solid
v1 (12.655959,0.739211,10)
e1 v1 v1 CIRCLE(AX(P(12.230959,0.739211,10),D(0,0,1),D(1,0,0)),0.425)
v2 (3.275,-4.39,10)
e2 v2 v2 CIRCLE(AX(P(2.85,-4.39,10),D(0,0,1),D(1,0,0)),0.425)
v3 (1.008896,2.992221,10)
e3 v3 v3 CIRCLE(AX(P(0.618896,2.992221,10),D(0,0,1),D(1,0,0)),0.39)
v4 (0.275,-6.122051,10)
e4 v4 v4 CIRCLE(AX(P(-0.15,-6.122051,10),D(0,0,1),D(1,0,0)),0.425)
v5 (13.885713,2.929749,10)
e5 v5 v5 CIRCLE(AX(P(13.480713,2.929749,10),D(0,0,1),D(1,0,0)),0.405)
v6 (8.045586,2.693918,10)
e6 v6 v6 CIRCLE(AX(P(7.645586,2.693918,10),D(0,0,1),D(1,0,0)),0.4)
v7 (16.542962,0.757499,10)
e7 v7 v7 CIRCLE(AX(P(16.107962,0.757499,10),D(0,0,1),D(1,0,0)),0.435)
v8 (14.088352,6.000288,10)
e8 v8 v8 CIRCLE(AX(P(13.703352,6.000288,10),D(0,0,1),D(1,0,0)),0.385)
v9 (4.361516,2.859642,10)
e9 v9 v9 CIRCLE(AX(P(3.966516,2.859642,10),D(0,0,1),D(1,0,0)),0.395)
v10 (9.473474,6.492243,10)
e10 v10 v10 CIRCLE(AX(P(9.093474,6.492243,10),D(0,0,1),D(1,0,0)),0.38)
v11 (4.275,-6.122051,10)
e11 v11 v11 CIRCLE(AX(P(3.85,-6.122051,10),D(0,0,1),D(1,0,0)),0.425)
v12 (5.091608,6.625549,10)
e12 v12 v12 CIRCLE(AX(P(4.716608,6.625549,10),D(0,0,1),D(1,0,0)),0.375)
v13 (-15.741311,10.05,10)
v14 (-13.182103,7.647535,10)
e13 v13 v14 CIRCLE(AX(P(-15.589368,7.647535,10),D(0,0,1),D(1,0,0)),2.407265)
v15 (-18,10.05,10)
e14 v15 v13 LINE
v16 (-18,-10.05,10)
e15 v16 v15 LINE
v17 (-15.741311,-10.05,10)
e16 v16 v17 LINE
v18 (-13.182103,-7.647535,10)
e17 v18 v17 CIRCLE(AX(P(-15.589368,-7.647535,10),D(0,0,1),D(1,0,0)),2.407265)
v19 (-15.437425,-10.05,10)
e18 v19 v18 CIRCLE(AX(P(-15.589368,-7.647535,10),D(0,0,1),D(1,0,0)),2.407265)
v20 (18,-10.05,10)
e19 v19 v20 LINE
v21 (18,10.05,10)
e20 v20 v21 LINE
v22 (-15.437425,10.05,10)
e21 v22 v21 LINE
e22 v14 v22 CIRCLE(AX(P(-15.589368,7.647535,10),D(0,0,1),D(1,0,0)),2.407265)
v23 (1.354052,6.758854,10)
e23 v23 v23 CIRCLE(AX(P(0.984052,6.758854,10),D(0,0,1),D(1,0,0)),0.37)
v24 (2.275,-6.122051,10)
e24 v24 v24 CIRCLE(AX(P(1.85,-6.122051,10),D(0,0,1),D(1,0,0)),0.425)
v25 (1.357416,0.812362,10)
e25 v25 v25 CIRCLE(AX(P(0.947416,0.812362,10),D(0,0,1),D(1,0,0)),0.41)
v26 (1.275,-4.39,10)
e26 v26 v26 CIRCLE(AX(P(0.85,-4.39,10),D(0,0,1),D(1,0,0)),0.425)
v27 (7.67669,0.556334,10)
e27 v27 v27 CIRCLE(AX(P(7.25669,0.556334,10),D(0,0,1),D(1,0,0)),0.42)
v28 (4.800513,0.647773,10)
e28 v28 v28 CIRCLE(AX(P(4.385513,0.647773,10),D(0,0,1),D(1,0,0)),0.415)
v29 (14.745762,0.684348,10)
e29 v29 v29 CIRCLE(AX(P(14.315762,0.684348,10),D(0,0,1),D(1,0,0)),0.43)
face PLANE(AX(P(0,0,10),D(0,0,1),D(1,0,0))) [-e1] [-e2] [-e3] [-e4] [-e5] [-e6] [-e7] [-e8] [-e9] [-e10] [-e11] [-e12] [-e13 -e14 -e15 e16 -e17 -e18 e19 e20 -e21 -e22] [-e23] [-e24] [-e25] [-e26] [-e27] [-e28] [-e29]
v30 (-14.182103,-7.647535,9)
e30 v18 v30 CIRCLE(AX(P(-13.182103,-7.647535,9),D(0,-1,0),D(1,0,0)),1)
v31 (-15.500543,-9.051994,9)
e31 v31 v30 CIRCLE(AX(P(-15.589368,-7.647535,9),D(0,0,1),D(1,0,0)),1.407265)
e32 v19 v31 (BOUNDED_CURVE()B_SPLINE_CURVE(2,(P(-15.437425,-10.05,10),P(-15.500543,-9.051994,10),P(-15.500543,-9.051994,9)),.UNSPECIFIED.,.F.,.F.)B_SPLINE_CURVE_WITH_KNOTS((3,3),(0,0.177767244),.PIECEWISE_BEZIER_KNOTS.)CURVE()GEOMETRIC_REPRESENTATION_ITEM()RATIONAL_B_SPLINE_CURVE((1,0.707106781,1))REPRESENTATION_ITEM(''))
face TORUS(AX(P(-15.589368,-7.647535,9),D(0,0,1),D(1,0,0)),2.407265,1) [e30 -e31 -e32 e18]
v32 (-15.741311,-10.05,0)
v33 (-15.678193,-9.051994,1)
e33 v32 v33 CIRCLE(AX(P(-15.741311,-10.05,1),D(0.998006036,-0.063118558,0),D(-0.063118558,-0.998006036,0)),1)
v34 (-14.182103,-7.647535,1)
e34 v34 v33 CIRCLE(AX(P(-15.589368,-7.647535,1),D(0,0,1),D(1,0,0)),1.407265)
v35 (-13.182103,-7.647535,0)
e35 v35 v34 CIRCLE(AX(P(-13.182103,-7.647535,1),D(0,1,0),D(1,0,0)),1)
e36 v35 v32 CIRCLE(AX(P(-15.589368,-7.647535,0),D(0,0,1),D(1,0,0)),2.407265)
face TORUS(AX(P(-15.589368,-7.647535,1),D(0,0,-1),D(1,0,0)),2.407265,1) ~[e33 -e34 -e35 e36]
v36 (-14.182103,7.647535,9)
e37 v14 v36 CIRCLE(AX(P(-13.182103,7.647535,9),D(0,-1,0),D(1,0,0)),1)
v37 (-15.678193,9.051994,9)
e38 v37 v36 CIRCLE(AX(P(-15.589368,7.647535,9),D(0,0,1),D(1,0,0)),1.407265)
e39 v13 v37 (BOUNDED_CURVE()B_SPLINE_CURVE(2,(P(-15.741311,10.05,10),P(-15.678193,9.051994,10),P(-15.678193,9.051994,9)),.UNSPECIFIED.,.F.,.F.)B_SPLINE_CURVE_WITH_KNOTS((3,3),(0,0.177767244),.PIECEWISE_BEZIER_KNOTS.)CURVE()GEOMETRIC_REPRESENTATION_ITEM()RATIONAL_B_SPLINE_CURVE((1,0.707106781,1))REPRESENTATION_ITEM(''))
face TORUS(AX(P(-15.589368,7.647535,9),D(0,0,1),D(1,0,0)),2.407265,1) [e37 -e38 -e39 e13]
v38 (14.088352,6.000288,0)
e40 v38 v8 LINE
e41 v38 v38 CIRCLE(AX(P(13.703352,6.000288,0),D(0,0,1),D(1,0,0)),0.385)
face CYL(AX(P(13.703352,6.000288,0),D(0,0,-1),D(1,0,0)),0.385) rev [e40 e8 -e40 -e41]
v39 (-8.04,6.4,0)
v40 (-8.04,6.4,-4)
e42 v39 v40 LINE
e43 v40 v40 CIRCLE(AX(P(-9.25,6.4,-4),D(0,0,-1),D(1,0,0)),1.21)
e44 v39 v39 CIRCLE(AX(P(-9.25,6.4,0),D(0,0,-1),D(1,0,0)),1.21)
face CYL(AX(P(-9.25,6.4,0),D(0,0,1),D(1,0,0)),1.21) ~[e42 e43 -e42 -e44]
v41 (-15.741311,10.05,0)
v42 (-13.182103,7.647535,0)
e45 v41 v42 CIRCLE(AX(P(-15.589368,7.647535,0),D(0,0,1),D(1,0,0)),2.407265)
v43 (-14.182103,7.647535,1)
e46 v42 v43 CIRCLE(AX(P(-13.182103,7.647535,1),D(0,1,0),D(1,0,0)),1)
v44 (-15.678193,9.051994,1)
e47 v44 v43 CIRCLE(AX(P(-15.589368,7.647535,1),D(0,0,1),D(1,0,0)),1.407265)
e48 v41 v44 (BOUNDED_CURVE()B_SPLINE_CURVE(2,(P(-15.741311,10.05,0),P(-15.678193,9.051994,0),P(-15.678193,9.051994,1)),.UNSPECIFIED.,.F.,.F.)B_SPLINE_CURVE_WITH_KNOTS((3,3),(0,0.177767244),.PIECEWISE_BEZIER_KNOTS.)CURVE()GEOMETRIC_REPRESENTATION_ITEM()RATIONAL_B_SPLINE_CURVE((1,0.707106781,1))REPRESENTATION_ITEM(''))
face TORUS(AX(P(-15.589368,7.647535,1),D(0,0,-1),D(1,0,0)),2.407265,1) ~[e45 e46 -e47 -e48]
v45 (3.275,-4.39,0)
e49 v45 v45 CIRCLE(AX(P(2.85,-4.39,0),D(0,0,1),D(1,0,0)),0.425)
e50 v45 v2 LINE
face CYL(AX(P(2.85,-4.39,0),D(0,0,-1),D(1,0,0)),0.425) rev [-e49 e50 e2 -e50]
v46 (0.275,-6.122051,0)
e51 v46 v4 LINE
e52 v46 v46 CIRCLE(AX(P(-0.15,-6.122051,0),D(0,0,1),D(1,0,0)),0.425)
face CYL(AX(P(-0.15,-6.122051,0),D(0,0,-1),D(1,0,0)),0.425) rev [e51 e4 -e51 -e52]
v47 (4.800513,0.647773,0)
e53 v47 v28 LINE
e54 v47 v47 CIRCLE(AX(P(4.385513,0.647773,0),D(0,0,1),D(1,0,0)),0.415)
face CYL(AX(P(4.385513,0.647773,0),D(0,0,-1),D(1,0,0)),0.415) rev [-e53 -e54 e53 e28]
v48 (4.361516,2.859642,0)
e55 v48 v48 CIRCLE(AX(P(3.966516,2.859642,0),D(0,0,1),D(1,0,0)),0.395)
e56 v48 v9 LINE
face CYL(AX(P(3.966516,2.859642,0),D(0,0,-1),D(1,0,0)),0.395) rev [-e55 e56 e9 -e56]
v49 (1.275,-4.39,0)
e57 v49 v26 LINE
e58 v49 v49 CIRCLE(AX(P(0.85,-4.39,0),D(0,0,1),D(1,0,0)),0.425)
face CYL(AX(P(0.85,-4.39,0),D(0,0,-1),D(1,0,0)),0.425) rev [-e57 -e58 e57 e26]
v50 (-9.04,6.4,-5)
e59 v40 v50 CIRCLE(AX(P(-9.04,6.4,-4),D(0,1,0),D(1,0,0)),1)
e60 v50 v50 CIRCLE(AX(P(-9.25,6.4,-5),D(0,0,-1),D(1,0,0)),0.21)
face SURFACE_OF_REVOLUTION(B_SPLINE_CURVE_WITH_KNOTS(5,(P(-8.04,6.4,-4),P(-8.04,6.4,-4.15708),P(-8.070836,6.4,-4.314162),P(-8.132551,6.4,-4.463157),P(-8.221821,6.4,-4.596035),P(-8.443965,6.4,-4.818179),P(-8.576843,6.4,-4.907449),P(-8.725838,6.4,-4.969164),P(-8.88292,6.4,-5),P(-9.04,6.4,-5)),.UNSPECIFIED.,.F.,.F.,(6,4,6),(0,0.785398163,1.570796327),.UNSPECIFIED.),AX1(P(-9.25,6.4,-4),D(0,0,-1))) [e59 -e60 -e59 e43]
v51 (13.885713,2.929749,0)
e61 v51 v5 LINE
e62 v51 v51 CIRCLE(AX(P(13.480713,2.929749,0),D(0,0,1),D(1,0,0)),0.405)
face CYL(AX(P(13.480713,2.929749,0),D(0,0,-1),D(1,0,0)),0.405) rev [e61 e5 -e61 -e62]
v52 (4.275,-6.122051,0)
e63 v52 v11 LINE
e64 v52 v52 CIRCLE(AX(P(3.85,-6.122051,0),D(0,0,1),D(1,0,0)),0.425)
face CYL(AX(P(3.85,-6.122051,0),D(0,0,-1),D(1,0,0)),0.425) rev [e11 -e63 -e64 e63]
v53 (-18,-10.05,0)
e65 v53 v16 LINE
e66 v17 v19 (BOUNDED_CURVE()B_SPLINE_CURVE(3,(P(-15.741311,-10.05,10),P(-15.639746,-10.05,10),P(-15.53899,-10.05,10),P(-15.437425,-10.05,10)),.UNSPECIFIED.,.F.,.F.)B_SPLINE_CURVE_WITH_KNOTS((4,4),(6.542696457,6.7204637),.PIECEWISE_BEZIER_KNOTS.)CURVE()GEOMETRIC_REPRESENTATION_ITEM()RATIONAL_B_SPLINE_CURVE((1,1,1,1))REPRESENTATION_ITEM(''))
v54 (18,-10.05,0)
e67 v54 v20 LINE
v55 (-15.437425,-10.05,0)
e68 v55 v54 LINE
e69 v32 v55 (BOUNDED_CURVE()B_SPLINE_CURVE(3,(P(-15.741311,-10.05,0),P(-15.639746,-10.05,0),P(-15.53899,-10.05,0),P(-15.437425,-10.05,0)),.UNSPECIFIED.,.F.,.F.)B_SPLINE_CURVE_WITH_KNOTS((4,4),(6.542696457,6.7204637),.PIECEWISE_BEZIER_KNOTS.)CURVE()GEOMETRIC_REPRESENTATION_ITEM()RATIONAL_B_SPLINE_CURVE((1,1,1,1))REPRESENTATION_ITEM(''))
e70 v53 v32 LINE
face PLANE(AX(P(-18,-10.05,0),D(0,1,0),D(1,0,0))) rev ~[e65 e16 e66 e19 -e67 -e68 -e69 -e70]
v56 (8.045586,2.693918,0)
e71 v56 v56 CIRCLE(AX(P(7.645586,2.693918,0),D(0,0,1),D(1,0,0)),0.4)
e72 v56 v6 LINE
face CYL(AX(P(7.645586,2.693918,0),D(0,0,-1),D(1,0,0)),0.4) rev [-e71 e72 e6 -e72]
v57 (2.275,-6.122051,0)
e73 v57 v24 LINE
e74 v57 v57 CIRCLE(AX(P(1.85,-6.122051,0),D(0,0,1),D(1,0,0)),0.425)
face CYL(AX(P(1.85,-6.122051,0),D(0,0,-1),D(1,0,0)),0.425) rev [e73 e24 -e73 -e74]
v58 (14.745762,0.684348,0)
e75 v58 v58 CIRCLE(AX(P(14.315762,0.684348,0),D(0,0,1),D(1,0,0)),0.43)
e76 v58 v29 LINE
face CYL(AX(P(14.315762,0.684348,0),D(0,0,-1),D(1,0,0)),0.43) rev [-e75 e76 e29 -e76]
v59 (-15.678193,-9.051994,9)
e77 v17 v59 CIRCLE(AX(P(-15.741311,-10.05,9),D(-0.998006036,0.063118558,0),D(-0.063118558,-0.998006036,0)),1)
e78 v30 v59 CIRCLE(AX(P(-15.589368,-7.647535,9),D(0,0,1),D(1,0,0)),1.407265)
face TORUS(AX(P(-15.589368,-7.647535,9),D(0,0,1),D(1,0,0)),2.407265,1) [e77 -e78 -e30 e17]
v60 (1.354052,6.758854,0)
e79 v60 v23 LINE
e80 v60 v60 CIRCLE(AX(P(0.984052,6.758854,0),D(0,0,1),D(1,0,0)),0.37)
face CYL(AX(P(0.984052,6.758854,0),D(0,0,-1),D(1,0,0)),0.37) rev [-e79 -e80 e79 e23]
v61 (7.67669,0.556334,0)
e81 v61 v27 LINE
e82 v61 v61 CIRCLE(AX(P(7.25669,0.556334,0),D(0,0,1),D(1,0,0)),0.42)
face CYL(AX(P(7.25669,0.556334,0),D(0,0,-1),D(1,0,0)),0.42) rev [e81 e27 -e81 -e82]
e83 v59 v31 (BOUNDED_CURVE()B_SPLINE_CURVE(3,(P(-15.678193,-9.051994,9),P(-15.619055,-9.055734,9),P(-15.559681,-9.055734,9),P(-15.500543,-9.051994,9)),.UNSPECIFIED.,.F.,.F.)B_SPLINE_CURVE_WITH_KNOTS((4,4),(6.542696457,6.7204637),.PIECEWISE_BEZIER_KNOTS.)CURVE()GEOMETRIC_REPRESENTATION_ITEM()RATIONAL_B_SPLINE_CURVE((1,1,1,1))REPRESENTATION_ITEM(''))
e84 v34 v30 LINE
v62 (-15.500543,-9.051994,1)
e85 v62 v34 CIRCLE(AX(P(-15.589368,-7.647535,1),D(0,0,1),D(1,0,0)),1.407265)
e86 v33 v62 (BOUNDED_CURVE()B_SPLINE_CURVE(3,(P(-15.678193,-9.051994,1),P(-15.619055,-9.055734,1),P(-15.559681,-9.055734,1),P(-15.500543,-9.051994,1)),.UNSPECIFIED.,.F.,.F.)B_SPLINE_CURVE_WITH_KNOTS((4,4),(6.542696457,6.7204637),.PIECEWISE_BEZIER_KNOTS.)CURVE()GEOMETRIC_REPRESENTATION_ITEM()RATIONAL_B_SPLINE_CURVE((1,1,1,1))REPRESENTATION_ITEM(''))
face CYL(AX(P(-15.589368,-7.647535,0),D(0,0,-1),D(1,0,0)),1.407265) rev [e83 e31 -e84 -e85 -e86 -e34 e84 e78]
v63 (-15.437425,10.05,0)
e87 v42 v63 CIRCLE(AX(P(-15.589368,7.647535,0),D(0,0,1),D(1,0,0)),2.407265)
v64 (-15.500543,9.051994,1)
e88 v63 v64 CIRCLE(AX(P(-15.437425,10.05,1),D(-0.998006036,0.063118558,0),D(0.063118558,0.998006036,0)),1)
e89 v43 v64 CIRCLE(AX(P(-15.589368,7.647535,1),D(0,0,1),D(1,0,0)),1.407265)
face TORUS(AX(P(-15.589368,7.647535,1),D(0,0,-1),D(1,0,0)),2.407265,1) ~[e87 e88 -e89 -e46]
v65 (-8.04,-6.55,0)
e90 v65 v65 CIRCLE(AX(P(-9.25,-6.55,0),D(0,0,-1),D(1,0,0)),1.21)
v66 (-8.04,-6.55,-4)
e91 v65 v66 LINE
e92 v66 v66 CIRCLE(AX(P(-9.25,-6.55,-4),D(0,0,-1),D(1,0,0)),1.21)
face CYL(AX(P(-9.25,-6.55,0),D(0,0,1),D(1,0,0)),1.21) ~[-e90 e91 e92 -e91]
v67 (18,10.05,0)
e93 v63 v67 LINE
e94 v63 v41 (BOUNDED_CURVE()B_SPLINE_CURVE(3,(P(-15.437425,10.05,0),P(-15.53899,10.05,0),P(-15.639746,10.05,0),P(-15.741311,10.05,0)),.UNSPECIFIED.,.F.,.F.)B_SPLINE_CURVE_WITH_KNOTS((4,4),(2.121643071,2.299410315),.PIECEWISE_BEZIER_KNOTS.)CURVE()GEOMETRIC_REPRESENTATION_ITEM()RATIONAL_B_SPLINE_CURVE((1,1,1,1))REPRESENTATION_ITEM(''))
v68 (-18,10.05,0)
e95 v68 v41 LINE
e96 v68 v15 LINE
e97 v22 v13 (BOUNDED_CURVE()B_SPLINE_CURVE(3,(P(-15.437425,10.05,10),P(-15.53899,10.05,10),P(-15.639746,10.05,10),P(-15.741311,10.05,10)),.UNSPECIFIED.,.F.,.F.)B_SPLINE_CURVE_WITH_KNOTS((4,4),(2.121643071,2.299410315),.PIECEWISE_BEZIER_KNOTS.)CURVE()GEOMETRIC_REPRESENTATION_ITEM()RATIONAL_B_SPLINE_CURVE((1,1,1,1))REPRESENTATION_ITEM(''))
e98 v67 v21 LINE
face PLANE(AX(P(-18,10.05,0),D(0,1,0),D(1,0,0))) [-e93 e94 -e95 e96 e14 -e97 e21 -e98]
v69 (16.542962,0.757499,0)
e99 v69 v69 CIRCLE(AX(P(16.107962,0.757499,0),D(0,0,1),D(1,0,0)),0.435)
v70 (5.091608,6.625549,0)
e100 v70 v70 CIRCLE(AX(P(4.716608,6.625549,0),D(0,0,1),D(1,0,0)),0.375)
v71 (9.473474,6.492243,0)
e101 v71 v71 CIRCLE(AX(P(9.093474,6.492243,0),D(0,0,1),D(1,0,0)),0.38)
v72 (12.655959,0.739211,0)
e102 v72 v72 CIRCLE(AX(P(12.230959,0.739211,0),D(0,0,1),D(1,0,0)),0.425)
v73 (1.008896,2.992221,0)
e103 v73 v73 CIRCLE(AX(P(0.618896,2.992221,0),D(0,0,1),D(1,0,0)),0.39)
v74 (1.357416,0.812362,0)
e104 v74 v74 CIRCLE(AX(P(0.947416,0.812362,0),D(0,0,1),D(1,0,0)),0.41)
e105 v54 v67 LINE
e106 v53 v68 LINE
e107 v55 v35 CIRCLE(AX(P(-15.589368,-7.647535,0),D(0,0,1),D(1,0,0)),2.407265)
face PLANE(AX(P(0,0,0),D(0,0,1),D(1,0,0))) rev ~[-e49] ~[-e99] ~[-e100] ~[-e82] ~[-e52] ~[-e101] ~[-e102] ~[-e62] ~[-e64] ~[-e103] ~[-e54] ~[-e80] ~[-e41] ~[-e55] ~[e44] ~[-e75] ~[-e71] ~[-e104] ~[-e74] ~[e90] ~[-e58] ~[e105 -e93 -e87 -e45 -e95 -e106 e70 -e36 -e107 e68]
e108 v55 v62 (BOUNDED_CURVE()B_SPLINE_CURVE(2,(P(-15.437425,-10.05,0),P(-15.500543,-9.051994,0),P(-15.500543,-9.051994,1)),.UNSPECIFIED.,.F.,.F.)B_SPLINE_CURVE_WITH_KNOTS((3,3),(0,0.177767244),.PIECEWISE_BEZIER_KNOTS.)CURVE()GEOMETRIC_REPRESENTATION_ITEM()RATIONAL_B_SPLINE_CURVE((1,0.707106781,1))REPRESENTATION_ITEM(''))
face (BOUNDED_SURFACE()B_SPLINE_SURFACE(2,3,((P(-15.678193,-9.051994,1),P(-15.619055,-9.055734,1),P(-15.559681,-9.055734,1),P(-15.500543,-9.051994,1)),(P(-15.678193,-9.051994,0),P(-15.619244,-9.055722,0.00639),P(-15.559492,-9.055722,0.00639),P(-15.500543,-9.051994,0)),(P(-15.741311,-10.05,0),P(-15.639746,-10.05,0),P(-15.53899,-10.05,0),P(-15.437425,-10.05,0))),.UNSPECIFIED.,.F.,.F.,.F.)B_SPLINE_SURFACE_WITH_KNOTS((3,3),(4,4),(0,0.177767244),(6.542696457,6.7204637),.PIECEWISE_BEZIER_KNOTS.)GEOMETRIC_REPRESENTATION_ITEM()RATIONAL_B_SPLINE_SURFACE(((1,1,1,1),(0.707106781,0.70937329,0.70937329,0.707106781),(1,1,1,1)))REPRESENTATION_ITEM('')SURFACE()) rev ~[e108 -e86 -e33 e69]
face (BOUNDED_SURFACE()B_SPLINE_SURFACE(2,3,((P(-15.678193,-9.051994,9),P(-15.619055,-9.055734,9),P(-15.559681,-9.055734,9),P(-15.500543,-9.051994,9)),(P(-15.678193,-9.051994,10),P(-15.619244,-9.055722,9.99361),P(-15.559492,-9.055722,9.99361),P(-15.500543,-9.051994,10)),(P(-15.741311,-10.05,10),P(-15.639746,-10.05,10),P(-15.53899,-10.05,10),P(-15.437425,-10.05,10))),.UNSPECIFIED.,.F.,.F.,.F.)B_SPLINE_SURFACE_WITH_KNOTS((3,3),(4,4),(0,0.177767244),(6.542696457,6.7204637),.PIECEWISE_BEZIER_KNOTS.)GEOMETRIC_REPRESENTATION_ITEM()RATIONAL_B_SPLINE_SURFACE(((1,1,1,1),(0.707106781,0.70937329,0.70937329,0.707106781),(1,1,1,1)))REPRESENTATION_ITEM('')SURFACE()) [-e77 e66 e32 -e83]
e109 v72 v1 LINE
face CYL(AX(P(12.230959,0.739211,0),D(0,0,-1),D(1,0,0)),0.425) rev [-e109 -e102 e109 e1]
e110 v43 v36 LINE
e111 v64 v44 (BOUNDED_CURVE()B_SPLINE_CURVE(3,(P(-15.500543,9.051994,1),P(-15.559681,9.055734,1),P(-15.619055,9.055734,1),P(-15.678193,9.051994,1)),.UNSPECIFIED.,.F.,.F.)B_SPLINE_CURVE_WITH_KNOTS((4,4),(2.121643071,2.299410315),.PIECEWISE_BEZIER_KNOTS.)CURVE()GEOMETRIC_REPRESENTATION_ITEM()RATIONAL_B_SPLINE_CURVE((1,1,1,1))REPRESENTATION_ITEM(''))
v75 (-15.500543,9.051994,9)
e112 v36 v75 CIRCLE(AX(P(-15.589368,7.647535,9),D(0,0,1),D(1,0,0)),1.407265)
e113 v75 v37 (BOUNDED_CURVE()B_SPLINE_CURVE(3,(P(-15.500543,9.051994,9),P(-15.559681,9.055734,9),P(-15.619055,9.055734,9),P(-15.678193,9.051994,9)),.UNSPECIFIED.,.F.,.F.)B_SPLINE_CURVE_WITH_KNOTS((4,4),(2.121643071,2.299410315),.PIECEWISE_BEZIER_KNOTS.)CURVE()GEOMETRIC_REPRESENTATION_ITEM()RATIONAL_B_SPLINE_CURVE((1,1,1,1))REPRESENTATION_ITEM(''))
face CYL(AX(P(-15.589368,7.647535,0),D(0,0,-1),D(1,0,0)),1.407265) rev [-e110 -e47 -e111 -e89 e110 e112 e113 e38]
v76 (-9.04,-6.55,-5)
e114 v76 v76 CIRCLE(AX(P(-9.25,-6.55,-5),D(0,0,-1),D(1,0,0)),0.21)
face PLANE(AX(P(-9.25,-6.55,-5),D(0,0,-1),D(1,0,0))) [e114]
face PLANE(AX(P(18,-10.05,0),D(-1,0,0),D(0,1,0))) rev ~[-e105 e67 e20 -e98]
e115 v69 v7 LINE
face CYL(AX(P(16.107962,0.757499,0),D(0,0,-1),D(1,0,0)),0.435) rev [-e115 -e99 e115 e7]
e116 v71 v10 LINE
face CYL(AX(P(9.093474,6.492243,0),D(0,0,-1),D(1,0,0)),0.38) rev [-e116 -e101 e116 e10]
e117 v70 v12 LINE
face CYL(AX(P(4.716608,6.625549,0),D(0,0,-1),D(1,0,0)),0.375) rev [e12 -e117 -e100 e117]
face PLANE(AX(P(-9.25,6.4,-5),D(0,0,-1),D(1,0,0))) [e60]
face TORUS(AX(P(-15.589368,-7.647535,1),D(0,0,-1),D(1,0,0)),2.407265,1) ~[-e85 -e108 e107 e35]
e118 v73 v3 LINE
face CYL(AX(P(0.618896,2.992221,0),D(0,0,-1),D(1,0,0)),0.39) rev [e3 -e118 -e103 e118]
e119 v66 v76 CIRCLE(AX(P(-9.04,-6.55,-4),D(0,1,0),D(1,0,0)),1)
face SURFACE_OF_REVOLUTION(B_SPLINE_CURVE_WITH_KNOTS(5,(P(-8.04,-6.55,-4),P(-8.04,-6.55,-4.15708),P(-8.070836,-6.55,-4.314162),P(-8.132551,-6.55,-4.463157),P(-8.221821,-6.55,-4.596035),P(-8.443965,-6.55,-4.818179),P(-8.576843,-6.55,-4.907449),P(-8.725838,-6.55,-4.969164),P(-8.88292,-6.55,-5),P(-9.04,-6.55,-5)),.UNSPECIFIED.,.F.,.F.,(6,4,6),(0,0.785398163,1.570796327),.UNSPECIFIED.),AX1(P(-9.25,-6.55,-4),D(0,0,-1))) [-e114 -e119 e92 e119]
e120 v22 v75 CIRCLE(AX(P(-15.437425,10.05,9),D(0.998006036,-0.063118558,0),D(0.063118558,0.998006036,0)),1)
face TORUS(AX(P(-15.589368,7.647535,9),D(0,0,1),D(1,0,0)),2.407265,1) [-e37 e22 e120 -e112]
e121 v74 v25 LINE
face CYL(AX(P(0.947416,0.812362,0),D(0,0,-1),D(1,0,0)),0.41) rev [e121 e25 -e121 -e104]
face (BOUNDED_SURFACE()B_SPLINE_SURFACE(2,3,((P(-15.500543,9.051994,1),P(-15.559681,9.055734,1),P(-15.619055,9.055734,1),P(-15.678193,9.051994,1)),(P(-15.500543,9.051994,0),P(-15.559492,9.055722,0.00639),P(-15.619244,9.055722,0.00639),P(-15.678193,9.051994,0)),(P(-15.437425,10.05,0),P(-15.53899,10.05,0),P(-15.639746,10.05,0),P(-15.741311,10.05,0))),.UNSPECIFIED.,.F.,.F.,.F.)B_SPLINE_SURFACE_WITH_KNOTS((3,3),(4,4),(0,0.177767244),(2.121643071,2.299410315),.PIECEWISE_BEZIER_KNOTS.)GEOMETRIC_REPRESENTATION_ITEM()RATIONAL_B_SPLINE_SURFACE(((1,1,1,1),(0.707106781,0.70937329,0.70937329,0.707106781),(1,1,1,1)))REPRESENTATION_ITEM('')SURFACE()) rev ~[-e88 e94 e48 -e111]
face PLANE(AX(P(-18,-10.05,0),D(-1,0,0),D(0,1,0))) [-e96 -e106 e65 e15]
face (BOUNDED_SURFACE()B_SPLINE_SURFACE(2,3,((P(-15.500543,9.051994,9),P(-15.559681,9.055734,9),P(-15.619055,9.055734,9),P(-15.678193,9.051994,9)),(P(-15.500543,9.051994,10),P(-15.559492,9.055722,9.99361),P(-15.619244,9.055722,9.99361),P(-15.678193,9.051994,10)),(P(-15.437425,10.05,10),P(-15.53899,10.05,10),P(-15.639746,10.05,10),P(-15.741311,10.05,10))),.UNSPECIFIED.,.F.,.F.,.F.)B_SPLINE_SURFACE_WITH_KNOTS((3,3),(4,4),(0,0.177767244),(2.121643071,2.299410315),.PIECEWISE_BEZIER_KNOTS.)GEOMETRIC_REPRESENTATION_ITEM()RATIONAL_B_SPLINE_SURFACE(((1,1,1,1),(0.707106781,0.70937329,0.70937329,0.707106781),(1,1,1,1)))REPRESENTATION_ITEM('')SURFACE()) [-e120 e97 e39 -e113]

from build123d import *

# Parameters (mm, degrees)
SKETCH002_R      = 1.21
EXTRUDE001_DEPTH = 5
SKETCH_W         = 36
SKETCH_H         = 20.1
SKETCH_R         = 0.425
SKETCH_R_2       = 0.37
SKETCH_R_3       = 0.375
SKETCH_R_4       = 0.38
SKETCH_R_5       = 0.385
SKETCH_R_6       = 0.39
SKETCH_R_7       = 0.395
SKETCH_R_8       = 0.4
SKETCH_R_9       = 0.405
SKETCH_R_10      = 1.407265
SKETCH_R_11      = 0.41
SKETCH_R_12      = 0.415
SKETCH_R_13      = 0.42
SKETCH_R_14      = 0.435
SKETCH_R_15      = 0.43
EXTRUDE_DEPTH    = 10
FILLET_R         = 1


with BuildPart() as extrude001:
    # Sketch002 (on Face26 of Extrude) → Extrude001 (new body)
    with BuildSketch(Plane(origin=(0, 0, 0), x_dir=(1, 0, 0), z_dir=(0, 0, -1))):
        with Locations((-9.25, 6.55)):
            Circle(SKETCH002_R)
        with Locations((-9.25, -6.4)):
            Circle(SKETCH002_R)
    extrude(amount=EXTRUDE001_DEPTH)


with BuildPart() as fillet_body:
    # Sketch → Extrude (new body)
    with BuildSketch(Plane.XY):
        Rectangle(SKETCH_W, SKETCH_H)
        with Locations((-0.15, -6.122051)):
            Circle(SKETCH_R, mode=Mode.SUBTRACT)
        with Locations((0.85, -4.39)):
            Circle(SKETCH_R, mode=Mode.SUBTRACT)
        with Locations((1.85, -6.122051)):
            Circle(SKETCH_R, mode=Mode.SUBTRACT)
        with Locations((2.85, -4.39)):
            Circle(SKETCH_R, mode=Mode.SUBTRACT)
        with Locations((3.85, -6.122051)):
            Circle(SKETCH_R, mode=Mode.SUBTRACT)
        with Locations((0.984052, 6.758854)):
            Circle(SKETCH_R_2, mode=Mode.SUBTRACT)
        with Locations((4.716608, 6.625549)):
            Circle(SKETCH_R_3, mode=Mode.SUBTRACT)
        with Locations((9.093474, 6.492243)):
            Circle(SKETCH_R_4, mode=Mode.SUBTRACT)
        with Locations((13.703352, 6.000288)):
            Circle(SKETCH_R_5, mode=Mode.SUBTRACT)
        with Locations((0.618896, 2.992221)):
            Circle(SKETCH_R_6, mode=Mode.SUBTRACT)
        with Locations((3.966516, 2.859642)):
            Circle(SKETCH_R_7, mode=Mode.SUBTRACT)
        with Locations((7.645586, 2.693918)):
            Circle(SKETCH_R_8, mode=Mode.SUBTRACT)
        with Locations((13.480713, 2.929749)):
            Circle(SKETCH_R_9, mode=Mode.SUBTRACT)
        with Locations((-15.589368, 7.647535)):
            Circle(SKETCH_R_10, mode=Mode.SUBTRACT)
        with Locations((-15.589368, -7.647535)):
            Circle(SKETCH_R_10, mode=Mode.SUBTRACT)
        with Locations((0.947416, 0.812362)):
            Circle(SKETCH_R_11, mode=Mode.SUBTRACT)
        with Locations((4.385513, 0.647773)):
            Circle(SKETCH_R_12, mode=Mode.SUBTRACT)
        with Locations((7.25669, 0.556334)):
            Circle(SKETCH_R_13, mode=Mode.SUBTRACT)
        with Locations((12.230959, 0.739211)):
            Circle(SKETCH_R, mode=Mode.SUBTRACT)
        with Locations((16.107962, 0.757499)):
            Circle(SKETCH_R_14, mode=Mode.SUBTRACT)
        with Locations((14.315762, 0.684348)):
            Circle(SKETCH_R_15, mode=Mode.SUBTRACT)
    extrude(amount=EXTRUDE_DEPTH)

    # Fusion: union Extrude001
    add(extrude001.part)

    # Fillet
    fillet_edges = [fillet_body.edges().sort_by_distance(p)[0] for p in [
        (-16.996633, -7.647535, 0),
        (-16.996633, 7.647535, 0),
        (-16.996633, -7.647535, 10),
        (-16.996633, 7.647535, 10),
        (-10.46, -6.55, -5),
        (-10.46, 6.4, -5),
    ]]
    fillet(fillet_edges, radius=FILLET_R)


solid = fillet_body.part
